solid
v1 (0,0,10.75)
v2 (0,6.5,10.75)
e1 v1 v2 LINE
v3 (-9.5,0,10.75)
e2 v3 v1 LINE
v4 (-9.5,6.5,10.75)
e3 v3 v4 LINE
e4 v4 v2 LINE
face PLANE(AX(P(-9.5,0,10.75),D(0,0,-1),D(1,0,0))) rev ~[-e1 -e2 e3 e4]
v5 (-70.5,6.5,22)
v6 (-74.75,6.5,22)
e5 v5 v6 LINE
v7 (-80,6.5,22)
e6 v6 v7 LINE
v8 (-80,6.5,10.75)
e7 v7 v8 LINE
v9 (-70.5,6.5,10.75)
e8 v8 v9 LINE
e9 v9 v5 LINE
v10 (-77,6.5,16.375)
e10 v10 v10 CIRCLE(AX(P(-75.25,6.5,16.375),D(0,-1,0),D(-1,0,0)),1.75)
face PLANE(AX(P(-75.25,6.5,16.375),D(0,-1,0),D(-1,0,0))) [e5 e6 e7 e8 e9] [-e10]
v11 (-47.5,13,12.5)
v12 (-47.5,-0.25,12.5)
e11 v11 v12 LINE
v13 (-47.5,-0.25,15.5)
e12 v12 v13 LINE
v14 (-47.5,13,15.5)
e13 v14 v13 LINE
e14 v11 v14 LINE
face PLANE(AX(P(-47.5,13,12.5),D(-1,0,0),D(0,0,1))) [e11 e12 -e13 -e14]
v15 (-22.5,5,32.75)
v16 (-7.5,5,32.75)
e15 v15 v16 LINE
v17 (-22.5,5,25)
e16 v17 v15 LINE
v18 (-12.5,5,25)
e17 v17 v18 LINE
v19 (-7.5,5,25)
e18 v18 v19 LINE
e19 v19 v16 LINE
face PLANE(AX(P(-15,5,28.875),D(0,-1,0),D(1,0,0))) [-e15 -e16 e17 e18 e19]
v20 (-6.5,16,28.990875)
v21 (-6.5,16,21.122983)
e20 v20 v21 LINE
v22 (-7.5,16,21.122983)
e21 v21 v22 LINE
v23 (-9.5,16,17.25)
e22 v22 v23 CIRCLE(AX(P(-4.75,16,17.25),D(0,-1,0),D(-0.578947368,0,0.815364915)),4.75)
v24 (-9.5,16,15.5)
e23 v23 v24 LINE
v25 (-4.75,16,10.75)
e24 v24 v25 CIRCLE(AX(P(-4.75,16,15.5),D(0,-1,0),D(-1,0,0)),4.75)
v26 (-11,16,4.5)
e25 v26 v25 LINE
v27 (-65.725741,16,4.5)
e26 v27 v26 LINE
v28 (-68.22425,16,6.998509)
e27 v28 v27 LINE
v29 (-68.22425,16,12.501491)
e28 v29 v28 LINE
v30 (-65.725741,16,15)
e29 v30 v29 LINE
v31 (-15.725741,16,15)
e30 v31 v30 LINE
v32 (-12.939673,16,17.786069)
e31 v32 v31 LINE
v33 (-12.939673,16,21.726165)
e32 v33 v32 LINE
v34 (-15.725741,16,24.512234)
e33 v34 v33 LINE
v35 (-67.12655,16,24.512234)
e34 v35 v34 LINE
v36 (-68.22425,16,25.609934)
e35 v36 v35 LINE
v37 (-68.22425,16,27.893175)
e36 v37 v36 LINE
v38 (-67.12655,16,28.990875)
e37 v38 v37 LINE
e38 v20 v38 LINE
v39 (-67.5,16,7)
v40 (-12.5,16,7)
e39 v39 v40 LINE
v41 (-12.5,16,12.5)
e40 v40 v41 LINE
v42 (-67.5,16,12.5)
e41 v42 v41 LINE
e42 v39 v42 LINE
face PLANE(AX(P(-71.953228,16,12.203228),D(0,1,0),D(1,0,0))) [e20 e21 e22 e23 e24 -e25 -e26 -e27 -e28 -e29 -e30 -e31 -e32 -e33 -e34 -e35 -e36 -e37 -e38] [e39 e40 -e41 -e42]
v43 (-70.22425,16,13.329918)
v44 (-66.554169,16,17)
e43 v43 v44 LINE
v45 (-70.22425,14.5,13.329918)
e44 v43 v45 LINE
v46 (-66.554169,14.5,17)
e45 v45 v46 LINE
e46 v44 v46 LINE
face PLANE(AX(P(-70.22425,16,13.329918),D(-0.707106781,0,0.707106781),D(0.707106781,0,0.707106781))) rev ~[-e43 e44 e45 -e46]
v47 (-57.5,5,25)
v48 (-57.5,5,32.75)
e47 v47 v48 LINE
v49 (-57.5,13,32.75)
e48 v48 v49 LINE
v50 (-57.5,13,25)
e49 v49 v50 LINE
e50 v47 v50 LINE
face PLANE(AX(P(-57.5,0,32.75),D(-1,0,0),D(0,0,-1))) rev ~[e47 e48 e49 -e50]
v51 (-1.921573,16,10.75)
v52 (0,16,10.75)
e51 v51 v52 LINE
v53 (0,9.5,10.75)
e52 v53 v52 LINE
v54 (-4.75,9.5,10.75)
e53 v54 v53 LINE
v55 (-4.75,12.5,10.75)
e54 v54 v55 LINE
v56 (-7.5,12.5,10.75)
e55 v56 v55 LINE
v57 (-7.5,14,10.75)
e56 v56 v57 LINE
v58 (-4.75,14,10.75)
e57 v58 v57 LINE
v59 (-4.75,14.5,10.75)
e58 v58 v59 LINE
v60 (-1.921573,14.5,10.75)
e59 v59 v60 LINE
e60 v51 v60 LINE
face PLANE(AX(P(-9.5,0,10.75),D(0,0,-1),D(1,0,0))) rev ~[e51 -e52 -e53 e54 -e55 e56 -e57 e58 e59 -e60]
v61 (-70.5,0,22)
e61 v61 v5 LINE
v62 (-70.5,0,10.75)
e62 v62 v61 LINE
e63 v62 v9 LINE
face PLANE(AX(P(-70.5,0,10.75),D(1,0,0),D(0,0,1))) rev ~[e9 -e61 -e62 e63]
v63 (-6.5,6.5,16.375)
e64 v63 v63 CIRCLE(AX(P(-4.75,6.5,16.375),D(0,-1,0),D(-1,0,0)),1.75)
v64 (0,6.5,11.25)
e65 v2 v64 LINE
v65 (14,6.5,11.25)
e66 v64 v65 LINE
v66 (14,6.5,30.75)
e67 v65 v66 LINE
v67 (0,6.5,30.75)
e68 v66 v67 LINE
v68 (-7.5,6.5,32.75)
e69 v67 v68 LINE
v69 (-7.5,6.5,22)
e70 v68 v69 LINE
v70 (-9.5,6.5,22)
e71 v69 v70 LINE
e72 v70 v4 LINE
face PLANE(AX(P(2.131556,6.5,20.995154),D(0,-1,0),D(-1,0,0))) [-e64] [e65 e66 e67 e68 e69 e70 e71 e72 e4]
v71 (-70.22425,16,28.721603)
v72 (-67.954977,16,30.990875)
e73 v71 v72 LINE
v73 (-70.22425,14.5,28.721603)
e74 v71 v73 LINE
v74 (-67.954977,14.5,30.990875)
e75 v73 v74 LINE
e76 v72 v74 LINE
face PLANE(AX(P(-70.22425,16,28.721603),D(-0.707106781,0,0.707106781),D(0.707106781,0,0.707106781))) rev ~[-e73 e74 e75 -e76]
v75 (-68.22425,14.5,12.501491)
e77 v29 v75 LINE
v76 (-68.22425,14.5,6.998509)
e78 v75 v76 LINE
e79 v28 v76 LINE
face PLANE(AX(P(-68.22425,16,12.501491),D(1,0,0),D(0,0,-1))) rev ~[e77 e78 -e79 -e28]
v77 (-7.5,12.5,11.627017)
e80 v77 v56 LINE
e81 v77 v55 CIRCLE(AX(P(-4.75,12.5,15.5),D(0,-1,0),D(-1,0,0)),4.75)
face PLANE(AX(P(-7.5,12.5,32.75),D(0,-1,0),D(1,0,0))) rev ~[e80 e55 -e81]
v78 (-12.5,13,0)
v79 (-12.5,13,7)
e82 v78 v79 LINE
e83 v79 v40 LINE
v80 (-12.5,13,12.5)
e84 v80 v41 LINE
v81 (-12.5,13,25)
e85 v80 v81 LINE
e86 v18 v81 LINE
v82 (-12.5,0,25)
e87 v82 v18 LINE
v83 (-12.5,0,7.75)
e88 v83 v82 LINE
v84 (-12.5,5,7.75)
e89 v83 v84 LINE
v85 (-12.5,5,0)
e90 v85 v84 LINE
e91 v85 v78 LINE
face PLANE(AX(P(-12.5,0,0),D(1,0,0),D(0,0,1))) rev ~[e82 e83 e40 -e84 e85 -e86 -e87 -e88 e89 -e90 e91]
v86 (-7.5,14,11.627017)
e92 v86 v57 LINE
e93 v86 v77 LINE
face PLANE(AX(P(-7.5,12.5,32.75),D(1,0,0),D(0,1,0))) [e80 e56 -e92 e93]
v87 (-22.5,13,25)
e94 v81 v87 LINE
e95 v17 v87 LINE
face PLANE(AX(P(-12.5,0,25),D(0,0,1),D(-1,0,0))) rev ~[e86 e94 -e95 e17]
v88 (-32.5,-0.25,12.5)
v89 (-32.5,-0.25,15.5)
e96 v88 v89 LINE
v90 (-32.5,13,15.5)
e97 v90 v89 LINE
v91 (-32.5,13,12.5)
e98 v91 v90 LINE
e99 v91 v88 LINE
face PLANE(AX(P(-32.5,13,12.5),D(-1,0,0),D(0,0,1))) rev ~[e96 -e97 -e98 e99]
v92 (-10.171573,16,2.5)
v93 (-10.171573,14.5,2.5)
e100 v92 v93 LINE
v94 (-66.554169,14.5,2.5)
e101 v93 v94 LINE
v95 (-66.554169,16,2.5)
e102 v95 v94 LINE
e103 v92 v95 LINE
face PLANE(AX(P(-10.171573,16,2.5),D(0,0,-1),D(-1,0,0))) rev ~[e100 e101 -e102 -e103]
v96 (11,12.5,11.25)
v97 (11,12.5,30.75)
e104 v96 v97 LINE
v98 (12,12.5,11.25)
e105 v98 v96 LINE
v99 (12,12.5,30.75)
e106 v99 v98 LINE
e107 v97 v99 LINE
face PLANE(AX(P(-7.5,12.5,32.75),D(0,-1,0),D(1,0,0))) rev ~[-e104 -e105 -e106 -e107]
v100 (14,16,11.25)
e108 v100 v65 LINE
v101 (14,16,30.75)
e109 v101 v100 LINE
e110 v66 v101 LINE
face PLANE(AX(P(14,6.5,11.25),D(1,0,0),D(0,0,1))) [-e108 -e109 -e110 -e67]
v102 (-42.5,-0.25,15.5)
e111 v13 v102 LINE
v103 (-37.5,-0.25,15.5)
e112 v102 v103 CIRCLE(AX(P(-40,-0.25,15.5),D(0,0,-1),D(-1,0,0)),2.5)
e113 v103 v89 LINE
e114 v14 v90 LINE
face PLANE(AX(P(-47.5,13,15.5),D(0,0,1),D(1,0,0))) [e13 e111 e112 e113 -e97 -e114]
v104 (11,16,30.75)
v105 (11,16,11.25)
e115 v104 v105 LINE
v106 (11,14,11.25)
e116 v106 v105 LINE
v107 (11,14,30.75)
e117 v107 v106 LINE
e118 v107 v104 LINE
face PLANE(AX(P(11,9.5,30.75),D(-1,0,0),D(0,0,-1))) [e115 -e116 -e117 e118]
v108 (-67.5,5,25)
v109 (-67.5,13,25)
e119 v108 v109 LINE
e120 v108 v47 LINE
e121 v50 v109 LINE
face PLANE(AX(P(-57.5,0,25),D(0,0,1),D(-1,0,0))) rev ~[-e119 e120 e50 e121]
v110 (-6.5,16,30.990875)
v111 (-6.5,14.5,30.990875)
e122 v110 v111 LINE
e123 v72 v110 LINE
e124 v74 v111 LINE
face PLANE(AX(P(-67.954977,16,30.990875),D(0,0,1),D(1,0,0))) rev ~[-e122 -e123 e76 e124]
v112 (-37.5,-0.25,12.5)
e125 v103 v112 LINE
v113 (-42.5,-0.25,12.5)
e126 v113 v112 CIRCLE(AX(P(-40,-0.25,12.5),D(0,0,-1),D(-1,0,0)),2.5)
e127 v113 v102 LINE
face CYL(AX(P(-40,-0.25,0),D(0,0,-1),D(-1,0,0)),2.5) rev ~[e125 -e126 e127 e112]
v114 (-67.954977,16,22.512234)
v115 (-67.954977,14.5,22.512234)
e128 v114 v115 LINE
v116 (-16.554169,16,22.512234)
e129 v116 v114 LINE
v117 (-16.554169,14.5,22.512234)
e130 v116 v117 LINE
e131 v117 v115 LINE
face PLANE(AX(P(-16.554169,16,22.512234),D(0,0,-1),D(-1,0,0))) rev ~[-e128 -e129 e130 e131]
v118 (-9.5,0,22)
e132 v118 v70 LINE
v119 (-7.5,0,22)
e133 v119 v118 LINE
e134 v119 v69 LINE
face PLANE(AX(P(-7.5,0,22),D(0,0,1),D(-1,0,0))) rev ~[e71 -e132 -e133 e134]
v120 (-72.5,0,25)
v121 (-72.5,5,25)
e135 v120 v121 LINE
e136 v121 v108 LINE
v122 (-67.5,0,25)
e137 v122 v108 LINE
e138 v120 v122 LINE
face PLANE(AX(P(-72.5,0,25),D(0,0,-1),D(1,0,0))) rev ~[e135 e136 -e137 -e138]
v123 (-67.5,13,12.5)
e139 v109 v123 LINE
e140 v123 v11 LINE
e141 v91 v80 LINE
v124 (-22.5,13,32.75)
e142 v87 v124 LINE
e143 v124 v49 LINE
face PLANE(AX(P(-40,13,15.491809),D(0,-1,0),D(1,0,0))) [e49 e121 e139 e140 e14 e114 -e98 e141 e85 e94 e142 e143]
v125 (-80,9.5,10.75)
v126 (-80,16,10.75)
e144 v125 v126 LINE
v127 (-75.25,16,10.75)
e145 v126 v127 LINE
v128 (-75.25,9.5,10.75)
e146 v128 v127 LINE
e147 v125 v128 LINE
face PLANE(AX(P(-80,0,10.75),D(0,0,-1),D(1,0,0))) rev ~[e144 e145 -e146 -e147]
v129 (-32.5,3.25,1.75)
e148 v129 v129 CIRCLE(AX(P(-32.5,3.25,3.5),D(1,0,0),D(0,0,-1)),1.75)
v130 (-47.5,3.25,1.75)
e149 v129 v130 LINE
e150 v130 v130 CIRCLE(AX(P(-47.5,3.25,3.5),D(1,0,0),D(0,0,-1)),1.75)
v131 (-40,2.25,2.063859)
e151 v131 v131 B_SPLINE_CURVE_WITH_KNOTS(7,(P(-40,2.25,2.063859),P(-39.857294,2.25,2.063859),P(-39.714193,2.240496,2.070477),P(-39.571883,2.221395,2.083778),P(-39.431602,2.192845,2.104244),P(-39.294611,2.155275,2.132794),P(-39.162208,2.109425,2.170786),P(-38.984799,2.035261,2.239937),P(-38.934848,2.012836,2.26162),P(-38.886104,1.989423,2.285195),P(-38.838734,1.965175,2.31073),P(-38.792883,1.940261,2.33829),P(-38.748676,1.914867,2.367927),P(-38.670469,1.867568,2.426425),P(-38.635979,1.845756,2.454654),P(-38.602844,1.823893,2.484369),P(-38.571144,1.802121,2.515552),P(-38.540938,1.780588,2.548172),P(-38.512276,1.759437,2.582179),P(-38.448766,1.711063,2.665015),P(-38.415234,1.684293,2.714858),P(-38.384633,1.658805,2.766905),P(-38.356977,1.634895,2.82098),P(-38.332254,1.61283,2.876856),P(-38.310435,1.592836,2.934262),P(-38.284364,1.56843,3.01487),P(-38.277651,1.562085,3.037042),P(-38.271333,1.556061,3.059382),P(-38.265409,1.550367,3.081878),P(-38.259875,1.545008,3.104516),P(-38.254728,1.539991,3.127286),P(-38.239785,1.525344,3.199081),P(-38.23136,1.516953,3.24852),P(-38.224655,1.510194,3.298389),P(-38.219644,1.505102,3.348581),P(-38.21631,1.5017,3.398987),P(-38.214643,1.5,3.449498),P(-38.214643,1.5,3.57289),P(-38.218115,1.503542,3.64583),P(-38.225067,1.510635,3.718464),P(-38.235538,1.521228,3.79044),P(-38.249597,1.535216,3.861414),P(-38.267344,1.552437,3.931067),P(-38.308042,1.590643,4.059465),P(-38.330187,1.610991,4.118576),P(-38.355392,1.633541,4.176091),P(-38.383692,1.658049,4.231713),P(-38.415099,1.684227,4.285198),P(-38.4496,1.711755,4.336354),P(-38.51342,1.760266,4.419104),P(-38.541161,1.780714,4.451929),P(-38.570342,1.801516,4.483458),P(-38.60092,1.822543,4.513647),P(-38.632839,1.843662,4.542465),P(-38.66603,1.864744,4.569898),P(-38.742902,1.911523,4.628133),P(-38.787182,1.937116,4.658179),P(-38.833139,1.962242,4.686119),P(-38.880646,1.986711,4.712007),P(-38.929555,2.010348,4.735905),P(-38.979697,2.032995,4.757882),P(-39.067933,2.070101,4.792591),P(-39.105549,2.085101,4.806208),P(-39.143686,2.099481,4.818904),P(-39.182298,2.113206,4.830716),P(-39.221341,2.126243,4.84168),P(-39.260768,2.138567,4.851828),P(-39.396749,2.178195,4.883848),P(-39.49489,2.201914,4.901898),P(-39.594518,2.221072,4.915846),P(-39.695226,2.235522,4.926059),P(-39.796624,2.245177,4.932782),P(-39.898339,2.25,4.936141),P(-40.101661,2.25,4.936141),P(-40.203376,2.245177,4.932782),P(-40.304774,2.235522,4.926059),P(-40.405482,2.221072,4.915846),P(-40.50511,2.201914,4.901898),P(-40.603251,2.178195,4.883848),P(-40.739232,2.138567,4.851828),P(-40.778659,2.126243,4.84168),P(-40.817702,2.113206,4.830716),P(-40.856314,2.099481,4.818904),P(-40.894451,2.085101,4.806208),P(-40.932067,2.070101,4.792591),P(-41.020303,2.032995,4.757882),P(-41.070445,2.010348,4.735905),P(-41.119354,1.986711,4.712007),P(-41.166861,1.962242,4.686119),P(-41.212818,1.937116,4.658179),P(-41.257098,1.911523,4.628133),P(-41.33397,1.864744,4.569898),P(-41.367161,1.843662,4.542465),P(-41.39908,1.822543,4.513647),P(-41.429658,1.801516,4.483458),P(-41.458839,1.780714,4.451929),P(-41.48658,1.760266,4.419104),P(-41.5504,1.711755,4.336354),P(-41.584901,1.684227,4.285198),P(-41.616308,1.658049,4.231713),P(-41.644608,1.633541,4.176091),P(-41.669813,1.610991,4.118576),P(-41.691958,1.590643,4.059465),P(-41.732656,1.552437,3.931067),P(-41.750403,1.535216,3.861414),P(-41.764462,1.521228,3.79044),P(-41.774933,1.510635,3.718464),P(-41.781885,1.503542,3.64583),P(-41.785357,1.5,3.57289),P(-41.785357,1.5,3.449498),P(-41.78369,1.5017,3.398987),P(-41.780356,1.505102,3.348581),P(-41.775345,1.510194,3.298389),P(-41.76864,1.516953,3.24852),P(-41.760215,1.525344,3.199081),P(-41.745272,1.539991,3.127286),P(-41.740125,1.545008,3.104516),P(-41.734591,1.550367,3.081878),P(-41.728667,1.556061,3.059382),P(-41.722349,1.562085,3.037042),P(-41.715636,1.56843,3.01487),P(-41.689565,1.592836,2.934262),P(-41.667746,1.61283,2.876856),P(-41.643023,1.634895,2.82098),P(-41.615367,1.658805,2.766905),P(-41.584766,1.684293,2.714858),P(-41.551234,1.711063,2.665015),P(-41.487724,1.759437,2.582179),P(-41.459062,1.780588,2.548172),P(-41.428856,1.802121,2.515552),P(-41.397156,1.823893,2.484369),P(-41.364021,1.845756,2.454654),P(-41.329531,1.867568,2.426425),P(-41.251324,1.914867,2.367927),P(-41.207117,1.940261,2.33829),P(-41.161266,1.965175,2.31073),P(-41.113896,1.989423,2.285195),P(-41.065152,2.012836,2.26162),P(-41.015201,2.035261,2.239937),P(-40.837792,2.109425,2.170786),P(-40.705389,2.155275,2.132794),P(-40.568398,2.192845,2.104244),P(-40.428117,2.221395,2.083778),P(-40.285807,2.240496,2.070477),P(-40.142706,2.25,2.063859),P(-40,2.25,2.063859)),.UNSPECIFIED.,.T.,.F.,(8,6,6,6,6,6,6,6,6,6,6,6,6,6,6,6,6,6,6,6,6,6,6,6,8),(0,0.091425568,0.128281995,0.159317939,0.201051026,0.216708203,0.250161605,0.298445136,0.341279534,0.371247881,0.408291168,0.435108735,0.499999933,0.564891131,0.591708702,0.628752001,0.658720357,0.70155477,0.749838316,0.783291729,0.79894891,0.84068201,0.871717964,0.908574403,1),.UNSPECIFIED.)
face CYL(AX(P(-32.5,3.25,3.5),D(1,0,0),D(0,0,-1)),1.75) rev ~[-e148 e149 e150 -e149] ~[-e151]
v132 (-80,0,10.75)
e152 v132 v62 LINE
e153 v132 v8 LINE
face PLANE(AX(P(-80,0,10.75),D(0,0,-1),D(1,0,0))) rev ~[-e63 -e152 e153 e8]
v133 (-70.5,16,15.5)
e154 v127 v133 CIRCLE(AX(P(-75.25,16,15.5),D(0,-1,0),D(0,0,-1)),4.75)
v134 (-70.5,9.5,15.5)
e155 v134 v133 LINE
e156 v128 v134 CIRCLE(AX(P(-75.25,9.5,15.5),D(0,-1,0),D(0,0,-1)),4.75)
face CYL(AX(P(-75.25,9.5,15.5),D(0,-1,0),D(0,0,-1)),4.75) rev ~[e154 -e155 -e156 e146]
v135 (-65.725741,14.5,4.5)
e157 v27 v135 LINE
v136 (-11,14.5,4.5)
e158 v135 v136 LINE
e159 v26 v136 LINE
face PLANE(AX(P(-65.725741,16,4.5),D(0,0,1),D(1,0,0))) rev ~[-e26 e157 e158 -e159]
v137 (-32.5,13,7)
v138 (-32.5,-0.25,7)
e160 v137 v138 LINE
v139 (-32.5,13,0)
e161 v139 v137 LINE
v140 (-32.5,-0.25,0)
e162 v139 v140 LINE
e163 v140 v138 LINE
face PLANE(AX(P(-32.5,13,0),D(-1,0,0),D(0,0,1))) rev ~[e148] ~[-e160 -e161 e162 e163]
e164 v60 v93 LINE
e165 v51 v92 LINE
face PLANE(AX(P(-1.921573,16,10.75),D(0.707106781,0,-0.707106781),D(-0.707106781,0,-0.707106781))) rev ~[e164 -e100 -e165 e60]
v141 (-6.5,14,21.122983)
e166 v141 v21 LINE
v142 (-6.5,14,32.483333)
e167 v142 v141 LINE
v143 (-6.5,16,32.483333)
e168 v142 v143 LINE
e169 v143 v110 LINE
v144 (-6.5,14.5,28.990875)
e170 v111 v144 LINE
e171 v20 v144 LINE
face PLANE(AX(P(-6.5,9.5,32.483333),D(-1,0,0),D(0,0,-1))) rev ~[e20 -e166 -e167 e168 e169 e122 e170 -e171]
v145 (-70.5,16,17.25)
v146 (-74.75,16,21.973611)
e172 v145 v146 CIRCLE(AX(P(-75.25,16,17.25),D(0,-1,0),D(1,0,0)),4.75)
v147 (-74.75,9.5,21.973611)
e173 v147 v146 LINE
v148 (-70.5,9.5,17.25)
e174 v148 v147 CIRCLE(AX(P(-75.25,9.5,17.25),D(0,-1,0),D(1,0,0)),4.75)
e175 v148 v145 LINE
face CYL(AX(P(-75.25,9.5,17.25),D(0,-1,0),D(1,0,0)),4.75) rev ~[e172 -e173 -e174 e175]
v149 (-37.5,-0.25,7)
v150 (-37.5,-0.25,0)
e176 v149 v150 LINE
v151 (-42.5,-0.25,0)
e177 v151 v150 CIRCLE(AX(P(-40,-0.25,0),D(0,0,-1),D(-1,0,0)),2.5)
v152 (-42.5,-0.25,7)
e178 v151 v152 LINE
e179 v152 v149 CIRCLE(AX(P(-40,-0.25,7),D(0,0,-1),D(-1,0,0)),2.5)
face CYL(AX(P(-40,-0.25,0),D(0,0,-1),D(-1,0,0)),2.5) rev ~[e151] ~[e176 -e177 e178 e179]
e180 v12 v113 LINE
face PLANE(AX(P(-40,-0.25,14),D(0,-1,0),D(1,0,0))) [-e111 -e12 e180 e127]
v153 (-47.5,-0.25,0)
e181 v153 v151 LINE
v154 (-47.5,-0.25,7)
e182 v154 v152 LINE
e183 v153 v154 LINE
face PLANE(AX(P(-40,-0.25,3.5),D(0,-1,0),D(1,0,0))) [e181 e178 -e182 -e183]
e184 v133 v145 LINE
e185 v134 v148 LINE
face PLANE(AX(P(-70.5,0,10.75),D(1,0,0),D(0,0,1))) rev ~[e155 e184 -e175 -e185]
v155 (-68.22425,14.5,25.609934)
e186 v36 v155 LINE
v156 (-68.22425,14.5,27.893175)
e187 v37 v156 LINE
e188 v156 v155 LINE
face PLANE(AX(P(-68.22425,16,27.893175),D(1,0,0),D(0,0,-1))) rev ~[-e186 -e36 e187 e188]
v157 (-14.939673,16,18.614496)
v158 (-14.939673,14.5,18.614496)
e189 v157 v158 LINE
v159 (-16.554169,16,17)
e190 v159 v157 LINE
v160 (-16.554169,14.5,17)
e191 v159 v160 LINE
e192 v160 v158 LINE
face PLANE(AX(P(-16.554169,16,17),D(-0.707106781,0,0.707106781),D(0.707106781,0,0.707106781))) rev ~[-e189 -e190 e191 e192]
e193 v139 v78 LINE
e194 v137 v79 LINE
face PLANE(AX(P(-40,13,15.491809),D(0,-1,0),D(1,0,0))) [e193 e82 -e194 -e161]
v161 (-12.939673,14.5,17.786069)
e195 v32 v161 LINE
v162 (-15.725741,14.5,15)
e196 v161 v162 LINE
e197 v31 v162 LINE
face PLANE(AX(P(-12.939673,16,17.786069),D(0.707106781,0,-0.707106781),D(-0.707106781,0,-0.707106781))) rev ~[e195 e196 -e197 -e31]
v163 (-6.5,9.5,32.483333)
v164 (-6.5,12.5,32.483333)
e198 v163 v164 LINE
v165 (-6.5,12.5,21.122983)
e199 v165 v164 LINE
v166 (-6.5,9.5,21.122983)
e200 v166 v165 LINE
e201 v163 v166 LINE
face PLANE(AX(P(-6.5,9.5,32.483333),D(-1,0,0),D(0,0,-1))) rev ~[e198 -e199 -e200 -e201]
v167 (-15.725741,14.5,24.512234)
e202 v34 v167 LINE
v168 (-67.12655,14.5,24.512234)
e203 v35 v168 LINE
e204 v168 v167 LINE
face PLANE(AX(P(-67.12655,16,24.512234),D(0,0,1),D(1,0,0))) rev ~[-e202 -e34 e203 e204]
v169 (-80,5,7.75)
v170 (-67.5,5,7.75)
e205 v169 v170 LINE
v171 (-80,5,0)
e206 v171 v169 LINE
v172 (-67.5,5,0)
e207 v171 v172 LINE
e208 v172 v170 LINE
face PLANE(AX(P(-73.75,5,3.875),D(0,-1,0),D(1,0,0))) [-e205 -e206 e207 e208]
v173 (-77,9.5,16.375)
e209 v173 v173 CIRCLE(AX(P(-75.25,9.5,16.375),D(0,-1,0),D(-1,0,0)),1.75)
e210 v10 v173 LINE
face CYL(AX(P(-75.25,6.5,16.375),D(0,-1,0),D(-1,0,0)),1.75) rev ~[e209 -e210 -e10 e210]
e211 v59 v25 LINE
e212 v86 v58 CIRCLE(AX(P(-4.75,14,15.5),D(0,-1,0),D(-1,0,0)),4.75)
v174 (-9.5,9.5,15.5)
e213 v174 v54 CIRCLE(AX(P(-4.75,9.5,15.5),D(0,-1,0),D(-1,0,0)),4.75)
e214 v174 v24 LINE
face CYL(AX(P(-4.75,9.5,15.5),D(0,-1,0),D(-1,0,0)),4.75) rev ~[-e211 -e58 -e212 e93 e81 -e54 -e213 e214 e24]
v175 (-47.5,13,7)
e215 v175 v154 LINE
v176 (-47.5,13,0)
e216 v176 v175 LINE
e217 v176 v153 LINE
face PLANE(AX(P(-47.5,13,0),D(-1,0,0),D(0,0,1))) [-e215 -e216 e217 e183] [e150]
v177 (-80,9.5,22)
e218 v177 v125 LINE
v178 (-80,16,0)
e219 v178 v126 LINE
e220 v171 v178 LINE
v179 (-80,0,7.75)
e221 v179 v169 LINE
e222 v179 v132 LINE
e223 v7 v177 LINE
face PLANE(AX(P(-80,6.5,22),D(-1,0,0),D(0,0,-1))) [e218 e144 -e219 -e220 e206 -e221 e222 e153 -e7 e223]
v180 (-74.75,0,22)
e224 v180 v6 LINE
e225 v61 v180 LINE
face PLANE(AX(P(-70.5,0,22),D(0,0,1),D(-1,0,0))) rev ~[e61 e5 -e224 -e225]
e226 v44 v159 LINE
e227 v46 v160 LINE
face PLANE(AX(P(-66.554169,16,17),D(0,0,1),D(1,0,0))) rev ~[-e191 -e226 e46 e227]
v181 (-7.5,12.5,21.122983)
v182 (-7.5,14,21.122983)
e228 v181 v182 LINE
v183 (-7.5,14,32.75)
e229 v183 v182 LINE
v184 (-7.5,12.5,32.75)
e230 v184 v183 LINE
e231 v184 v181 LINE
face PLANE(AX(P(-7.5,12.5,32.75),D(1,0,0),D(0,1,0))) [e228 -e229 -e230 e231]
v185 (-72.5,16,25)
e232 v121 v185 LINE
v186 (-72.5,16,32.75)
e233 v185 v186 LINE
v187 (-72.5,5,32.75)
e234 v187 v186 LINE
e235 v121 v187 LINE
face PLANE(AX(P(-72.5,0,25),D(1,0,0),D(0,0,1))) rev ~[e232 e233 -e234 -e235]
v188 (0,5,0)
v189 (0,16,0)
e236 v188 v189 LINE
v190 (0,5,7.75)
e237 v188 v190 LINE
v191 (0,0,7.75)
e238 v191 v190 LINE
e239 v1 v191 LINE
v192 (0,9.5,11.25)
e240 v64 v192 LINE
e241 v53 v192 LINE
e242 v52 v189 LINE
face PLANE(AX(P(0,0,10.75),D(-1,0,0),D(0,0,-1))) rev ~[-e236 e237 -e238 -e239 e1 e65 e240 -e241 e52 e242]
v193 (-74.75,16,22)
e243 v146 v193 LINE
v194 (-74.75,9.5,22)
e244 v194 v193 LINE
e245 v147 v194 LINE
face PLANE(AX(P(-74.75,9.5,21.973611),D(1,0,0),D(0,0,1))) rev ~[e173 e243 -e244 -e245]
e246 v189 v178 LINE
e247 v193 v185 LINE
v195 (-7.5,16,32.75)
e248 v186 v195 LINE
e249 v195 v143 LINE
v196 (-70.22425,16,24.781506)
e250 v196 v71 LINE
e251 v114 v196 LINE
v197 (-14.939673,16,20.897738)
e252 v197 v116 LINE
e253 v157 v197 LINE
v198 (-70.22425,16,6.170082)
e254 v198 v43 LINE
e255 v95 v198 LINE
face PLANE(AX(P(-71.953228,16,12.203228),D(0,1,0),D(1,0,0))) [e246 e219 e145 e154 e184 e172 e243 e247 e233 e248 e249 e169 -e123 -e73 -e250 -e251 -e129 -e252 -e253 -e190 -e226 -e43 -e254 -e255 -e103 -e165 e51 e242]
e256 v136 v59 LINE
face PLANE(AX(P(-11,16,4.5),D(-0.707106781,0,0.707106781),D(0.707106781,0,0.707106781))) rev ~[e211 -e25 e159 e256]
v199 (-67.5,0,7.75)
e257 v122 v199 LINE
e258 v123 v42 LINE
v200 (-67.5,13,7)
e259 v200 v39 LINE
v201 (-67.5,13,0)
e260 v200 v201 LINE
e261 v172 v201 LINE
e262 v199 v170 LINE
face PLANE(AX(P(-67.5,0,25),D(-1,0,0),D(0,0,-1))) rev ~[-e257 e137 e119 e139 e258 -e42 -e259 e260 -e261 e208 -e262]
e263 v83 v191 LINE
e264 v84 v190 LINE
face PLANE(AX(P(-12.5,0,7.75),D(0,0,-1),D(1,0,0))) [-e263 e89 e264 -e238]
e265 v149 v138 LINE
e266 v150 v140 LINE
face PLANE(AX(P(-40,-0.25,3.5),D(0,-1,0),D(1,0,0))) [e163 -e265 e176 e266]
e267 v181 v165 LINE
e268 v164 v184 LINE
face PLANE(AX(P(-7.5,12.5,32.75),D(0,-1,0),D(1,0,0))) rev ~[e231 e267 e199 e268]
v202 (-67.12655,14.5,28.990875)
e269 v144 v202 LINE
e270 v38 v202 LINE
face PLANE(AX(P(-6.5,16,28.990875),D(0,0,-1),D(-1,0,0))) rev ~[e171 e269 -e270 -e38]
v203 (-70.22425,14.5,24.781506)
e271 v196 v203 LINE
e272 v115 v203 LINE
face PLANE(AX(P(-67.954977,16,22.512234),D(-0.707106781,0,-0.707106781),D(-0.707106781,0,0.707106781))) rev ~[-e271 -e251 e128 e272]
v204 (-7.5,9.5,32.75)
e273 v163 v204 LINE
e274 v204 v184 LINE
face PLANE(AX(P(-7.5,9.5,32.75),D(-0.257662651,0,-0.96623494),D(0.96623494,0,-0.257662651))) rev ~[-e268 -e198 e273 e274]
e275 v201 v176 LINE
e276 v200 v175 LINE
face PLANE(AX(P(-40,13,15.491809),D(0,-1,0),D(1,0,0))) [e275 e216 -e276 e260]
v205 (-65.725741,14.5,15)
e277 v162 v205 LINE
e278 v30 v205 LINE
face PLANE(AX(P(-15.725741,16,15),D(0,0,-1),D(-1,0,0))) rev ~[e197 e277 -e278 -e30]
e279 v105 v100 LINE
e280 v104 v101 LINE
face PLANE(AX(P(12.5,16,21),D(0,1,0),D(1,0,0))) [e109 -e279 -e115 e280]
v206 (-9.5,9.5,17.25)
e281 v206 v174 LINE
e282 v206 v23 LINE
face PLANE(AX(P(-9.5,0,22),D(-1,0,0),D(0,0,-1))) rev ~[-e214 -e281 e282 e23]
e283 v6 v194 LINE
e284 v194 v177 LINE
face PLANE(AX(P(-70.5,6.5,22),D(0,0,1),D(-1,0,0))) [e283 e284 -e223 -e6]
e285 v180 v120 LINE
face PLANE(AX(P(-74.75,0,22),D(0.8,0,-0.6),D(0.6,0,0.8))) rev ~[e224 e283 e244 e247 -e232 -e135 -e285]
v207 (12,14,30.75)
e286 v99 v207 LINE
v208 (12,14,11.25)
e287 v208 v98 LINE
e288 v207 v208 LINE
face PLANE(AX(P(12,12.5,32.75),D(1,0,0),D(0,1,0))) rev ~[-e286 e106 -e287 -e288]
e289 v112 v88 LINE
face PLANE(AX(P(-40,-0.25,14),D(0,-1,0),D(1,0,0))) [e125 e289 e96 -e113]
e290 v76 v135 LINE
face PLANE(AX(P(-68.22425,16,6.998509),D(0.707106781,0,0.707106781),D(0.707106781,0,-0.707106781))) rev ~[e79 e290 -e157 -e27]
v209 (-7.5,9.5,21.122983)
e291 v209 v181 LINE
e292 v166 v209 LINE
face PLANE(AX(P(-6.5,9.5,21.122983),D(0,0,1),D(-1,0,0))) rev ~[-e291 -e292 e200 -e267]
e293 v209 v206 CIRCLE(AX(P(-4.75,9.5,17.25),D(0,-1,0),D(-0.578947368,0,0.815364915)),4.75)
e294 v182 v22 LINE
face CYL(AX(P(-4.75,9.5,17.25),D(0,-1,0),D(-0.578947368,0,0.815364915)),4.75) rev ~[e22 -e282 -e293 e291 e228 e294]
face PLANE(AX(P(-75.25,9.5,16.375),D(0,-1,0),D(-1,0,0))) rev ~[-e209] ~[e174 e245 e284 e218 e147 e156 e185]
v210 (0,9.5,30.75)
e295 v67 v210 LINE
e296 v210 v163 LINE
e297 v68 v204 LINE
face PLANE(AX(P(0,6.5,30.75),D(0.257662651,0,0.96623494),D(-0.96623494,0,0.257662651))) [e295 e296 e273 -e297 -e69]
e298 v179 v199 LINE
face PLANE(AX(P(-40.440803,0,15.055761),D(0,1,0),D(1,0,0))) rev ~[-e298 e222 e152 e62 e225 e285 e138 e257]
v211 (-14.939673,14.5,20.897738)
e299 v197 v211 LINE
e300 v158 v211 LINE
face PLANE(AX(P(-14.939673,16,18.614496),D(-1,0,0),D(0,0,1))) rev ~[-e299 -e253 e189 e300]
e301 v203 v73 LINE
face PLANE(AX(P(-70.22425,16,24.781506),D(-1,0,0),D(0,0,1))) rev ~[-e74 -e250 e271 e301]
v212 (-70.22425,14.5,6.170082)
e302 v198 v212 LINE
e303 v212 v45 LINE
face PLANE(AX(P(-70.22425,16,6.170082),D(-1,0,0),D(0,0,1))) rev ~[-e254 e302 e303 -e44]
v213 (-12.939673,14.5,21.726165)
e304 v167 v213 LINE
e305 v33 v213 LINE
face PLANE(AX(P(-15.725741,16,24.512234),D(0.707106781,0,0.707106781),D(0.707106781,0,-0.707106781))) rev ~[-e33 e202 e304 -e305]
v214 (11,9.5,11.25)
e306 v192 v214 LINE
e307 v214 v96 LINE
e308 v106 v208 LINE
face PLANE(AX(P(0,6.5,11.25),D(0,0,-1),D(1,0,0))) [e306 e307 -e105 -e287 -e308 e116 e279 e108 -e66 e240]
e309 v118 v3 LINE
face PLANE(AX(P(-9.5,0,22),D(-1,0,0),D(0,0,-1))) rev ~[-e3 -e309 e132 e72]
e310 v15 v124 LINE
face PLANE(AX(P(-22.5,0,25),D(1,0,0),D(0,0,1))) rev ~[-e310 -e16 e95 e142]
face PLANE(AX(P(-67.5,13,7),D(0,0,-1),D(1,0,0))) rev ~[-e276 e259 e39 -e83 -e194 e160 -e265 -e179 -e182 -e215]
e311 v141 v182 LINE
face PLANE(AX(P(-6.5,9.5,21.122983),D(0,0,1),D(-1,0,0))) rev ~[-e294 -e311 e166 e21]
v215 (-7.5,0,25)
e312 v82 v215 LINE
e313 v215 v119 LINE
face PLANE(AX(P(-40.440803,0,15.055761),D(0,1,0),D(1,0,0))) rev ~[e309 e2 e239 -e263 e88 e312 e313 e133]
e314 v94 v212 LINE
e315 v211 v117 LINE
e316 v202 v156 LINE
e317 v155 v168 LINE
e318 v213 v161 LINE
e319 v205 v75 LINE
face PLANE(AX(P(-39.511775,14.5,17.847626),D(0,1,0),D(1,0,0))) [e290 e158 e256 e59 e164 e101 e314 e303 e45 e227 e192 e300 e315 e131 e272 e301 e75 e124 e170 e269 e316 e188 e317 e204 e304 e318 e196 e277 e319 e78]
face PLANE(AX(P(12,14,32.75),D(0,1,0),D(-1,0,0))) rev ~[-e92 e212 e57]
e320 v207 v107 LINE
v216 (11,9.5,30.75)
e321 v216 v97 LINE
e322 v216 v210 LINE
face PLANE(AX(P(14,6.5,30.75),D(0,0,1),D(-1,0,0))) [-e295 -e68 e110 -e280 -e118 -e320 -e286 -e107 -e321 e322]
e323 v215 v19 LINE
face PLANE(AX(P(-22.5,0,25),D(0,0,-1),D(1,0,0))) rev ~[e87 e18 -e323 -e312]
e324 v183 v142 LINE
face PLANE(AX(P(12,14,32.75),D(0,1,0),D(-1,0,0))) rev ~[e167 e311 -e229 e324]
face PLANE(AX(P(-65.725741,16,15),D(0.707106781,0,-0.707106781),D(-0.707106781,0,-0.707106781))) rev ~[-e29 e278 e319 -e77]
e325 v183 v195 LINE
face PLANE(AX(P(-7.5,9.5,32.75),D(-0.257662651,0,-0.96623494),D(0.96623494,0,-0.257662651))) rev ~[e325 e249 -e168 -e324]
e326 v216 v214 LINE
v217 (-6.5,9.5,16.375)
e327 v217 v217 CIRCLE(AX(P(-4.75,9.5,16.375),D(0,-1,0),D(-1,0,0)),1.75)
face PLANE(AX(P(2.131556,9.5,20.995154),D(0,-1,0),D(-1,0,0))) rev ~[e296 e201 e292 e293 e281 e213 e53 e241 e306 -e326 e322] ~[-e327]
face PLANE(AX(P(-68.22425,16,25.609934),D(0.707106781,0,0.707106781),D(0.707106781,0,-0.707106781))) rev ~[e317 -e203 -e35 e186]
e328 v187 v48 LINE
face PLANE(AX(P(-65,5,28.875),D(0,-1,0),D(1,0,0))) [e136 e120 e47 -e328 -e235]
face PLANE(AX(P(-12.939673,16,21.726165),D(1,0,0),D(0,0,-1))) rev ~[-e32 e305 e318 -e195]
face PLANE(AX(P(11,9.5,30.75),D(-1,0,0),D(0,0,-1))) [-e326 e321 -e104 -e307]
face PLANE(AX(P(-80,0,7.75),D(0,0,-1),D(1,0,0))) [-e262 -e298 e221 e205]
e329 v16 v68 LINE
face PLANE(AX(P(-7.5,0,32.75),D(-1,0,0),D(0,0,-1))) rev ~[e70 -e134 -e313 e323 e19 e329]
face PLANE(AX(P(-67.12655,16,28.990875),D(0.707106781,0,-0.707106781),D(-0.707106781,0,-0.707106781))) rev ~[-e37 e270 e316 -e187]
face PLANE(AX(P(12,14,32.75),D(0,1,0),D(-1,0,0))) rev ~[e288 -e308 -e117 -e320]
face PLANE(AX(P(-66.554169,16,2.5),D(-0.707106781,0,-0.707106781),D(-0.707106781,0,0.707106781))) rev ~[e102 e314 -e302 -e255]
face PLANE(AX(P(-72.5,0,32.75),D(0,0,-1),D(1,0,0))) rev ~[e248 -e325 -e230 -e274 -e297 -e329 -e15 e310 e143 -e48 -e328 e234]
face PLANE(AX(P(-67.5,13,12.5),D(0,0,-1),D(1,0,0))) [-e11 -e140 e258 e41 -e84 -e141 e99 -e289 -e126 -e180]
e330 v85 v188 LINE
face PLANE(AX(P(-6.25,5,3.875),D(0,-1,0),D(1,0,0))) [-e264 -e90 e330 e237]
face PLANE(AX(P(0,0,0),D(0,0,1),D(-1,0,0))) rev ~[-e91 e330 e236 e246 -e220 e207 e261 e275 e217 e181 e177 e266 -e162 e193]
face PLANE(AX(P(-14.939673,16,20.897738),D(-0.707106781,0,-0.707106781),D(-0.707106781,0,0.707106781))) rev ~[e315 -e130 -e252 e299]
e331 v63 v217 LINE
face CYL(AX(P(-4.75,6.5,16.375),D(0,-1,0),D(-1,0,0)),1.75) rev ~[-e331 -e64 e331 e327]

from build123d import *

# Parameters (mm, degrees)
BOSS_EXTRUDE1_DEPTH = 16
SKETCH2_W           = 15
SKETCH2_H           = 7.75
SKETCH2_W_2         = 12.5
CUT_EXTRUDE1_DEPTH  = 5
CUT_EXTRUDE4_DEPTH  = 13
SKETCH6_W           = 55
SKETCH6_H           = 5.5
CUT_EXTRUDE5_DEPTH  = 3
SKETCH7_W           = 15
SKETCH7_H           = 7
SKETCH7_H_2         = 3
BOSS_EXTRUDE2_DEPTH = 13.25
SKETCH8_R           = 2.5
CUT_EXTRUDE6_DEPTH  = 15.5
SKETCH9_R           = 1.75
CUT_EXTRUDE7_DEPTH  = 15
SKETCH11_R          = 1.75
BOSS_EXTRUDE3_DEPTH = 3
SKETCH12_W          = 3
SKETCH12_H          = 19.5
BOSS_EXTRUDE4_DEPTH = 6.5
SKETCH13_W          = 1
SKETCH13_H          = 1.5
SKETCH13_W_2        = 18.5
CUT_EXTRUDE9_DEPTH  = 22
CUT_EXTRUDE10_DEPTH = 1.5


with BuildPart() as part:
    # Sketch1 → Boss-Extrude1 (new body)
    with BuildSketch(Plane(origin=(0, 0, 0), x_dir=(1, 0, 0), z_dir=(0, 1, 0))):
        Polygon((0, 0), (-80, 0), (-80, -7.75), (-80, -10.75), (-70.5, -10.75), (-70.5, -22), (-74.75, -22), (-72.5, -25), (-72.5, -32.75), (-7.5, -32.75), (-7.5, -22), (-9.5, -22), (-9.5, -10.75), (0, -10.75), (0, -7.75), align=None)
    extrude(amount=BOSS_EXTRUDE1_DEPTH)

    # Sketch2 → Cut-Extrude1 (cut)
    with BuildSketch(Plane.XZ):
        with Locations((-65, 28.875)):
            Rectangle(SKETCH2_W, SKETCH2_H)
        with Locations((-73.75, 3.875)):
            Rectangle(SKETCH2_W_2, SKETCH2_H)
        with Locations((-15, 28.875)):
            Rectangle(SKETCH2_W, SKETCH2_H)
        with Locations((-6.25, 3.875)):
            Rectangle(SKETCH2_W_2, SKETCH2_H)
    extrude(amount=-CUT_EXTRUDE1_DEPTH, mode=Mode.SUBTRACT)

    # Sketch5 → Cut-Extrude4 (cut)
    with BuildSketch(Plane.XZ):
        Polygon((-67.5, 25), (-67.5, 7.75), (-67.5, 0), (-12.5, 0), (-12.5, 7.75), (-12.5, 25), (-22.5, 25), (-22.5, 32.75), (-57.5, 32.75), (-57.5, 25), align=None)
    extrude(amount=-CUT_EXTRUDE4_DEPTH, mode=Mode.SUBTRACT)

    # Sketch6 → Cut-Extrude5 (cut)
    with BuildSketch(Plane.XZ.offset(-13)):
        with Locations((-40, 9.75)):
            Rectangle(SKETCH6_W, SKETCH6_H)
    extrude(amount=-CUT_EXTRUDE5_DEPTH, mode=Mode.SUBTRACT)

    # Sketch7 → Boss-Extrude2 (add)
    with BuildSketch(Plane.XZ.offset(-13)):
        with Locations((-40, 3.5)):
            Rectangle(SKETCH7_W, SKETCH7_H)
        with Locations((-40, 14)):
            Rectangle(SKETCH7_W, SKETCH7_H_2)
    extrude(amount=BOSS_EXTRUDE2_DEPTH)

    # Sketch8 → Cut-Extrude6 (cut)
    with BuildSketch(Plane(origin=(0, 0, 0), x_dir=(-1, 0, 0), z_dir=(0, 0, -1))):
        with Locations((40, -0.25)):
            Circle(SKETCH8_R)
    extrude(amount=-CUT_EXTRUDE6_DEPTH, mode=Mode.SUBTRACT)

    # Sketch9 → Cut-Extrude7 (cut)
    with BuildSketch(Plane(origin=(-32.5, 0, 0), x_dir=(0, 0, -1), z_dir=(1, 0, 0))):
        with Locations((-3.5, 3.25)):
            Circle(SKETCH9_R)
    extrude(amount=-CUT_EXTRUDE7_DEPTH, mode=Mode.SUBTRACT)

    # Sketch11 → Boss-Extrude3 (add)
    with BuildSketch(Plane(origin=(0, 6.5, 0), x_dir=(-1, 0, 0), z_dir=(0, -1, 0))):
        Polygon((70.5, -10.75), (70.5, -22), (74.75, -22), (80, -22), (80, -10.75), align=None)
        with Locations((75.25, -16.375)):
            Circle(SKETCH11_R, mode=Mode.SUBTRACT)
        Polygon((7.5, -32.75), (7.5, -22), (9.5, -22), (9.5, -10.75), (0, -10.75), (0, -11.25), (-14, -11.25), (-14, -30.75), (0, -30.75), align=None)
        with Locations((4.75, -16.375)):
            Circle(SKETCH11_R, mode=Mode.SUBTRACT)
    extrude(amount=-BOSS_EXTRUDE3_DEPTH)

    # Sketch12 → Boss-Extrude4 (add)
    with BuildSketch(Plane(origin=(0, 9.5, 0), x_dir=(1, 0, 0), z_dir=(0, 1, 0))):
        with BuildLine():
            ThreePointArc((-75.25, -10.75), (-71.891242789, -12.141242789), (-70.5, -15.5))
            Line((-70.5, -15.5), (-70.5, -10.75))
            Line((-70.5, -10.75), (-75.25, -10.75))
        make_face()
        with BuildLine():
            Line((-74.75, -21.973610907), (-74.75, -22))
            Line((-74.75, -22), (-70.5, -22))
            Line((-70.5, -22), (-70.5, -17.25))
            ThreePointArc((-70.5, -17.25), (-71.718888277, -20.427066257), (-74.75, -21.973610907))
        make_face()
        with Locations((12.5, -21)):
            Rectangle(SKETCH12_W, SKETCH12_H)
        with BuildLine():
            Line((-7.5, -32.75), (-6.5, -32.483333333))
            Line((-6.5, -32.483333333), (-6.5, -21.122983346))
            Line((-6.5, -21.122983346), (-7.5, -21.122983346))
            ThreePointArc((-7.5, -21.122983346), (-8.970485754, -19.429449472), (-9.5, -17.25))
            Line((-9.5, -17.25), (-9.5, -22))
            Line((-9.5, -22), (-7.5, -22))
            Line((-7.5, -22), (-7.5, -32.75))
        make_face()
        with BuildLine():
            ThreePointArc((-9.5, -15.5), (-8.108757211, -12.141242789), (-4.75, -10.75))
            Line((-4.75, -10.75), (-9.5, -10.75))
            Line((-9.5, -10.75), (-9.5, -15.5))
        make_face()
    extrude(amount=BOSS_EXTRUDE4_DEPTH)

    # Sketch13 → Cut-Extrude9 (cut)
    with BuildSketch(Plane.XY.offset(32.75)):
        with Locations((11.5, 13.25)):
            Rectangle(SKETCH13_W, SKETCH13_H)
        with Locations((1.75, 13.25)):
            Rectangle(SKETCH13_W_2, SKETCH13_H)
    extrude(amount=-CUT_EXTRUDE9_DEPTH, mode=Mode.SUBTRACT)

    # Sketch14 → Cut-Extrude10 (cut)
    with BuildSketch(Plane(origin=(0, 16, 0), x_dir=(1, 0, 0), z_dir=(0, 1, 0))):
        Polygon((-4.75, -10.75), (-1.921572875, -10.75), (-10.171572875, -2.5), (-38.36287075, -2.5), (-66.554168625, -2.5), (-70.224250191, -6.170081566), (-70.224250191, -13.329918434), (-66.554168625, -17), (-16.554168625, -17), (-14.939672781, -18.614495844), (-14.939672781, -20.897737763), (-16.554168625, -22.512233607), (-67.954977352, -22.512233607), (-70.224250191, -24.781506445), (-70.224250191, -28.721602613), (-67.954977352, -30.990875451), (-6.5, -30.990875451), (-6.5, -28.990875451), (-67.126550228, -28.990875451), (-68.224250191, -27.893175488), (-68.224250191, -25.60993357), (-67.126550228, -24.512233607), (-15.7257415, -24.512233607), (-12.939672781, -21.726164888), (-12.939672781, -17.786068719), (-15.7257415, -15), (-65.7257415, -15), (-68.224250191, -12.50149131), (-68.224250191, -9.75), (-68.224250191, -6.99850869), (-65.7257415, -4.5), (-38.36287075, -4.5), (-11, -4.5), align=None)
    extrude(amount=-CUT_EXTRUDE10_DEPTH, mode=Mode.SUBTRACT)


solid = part.part
